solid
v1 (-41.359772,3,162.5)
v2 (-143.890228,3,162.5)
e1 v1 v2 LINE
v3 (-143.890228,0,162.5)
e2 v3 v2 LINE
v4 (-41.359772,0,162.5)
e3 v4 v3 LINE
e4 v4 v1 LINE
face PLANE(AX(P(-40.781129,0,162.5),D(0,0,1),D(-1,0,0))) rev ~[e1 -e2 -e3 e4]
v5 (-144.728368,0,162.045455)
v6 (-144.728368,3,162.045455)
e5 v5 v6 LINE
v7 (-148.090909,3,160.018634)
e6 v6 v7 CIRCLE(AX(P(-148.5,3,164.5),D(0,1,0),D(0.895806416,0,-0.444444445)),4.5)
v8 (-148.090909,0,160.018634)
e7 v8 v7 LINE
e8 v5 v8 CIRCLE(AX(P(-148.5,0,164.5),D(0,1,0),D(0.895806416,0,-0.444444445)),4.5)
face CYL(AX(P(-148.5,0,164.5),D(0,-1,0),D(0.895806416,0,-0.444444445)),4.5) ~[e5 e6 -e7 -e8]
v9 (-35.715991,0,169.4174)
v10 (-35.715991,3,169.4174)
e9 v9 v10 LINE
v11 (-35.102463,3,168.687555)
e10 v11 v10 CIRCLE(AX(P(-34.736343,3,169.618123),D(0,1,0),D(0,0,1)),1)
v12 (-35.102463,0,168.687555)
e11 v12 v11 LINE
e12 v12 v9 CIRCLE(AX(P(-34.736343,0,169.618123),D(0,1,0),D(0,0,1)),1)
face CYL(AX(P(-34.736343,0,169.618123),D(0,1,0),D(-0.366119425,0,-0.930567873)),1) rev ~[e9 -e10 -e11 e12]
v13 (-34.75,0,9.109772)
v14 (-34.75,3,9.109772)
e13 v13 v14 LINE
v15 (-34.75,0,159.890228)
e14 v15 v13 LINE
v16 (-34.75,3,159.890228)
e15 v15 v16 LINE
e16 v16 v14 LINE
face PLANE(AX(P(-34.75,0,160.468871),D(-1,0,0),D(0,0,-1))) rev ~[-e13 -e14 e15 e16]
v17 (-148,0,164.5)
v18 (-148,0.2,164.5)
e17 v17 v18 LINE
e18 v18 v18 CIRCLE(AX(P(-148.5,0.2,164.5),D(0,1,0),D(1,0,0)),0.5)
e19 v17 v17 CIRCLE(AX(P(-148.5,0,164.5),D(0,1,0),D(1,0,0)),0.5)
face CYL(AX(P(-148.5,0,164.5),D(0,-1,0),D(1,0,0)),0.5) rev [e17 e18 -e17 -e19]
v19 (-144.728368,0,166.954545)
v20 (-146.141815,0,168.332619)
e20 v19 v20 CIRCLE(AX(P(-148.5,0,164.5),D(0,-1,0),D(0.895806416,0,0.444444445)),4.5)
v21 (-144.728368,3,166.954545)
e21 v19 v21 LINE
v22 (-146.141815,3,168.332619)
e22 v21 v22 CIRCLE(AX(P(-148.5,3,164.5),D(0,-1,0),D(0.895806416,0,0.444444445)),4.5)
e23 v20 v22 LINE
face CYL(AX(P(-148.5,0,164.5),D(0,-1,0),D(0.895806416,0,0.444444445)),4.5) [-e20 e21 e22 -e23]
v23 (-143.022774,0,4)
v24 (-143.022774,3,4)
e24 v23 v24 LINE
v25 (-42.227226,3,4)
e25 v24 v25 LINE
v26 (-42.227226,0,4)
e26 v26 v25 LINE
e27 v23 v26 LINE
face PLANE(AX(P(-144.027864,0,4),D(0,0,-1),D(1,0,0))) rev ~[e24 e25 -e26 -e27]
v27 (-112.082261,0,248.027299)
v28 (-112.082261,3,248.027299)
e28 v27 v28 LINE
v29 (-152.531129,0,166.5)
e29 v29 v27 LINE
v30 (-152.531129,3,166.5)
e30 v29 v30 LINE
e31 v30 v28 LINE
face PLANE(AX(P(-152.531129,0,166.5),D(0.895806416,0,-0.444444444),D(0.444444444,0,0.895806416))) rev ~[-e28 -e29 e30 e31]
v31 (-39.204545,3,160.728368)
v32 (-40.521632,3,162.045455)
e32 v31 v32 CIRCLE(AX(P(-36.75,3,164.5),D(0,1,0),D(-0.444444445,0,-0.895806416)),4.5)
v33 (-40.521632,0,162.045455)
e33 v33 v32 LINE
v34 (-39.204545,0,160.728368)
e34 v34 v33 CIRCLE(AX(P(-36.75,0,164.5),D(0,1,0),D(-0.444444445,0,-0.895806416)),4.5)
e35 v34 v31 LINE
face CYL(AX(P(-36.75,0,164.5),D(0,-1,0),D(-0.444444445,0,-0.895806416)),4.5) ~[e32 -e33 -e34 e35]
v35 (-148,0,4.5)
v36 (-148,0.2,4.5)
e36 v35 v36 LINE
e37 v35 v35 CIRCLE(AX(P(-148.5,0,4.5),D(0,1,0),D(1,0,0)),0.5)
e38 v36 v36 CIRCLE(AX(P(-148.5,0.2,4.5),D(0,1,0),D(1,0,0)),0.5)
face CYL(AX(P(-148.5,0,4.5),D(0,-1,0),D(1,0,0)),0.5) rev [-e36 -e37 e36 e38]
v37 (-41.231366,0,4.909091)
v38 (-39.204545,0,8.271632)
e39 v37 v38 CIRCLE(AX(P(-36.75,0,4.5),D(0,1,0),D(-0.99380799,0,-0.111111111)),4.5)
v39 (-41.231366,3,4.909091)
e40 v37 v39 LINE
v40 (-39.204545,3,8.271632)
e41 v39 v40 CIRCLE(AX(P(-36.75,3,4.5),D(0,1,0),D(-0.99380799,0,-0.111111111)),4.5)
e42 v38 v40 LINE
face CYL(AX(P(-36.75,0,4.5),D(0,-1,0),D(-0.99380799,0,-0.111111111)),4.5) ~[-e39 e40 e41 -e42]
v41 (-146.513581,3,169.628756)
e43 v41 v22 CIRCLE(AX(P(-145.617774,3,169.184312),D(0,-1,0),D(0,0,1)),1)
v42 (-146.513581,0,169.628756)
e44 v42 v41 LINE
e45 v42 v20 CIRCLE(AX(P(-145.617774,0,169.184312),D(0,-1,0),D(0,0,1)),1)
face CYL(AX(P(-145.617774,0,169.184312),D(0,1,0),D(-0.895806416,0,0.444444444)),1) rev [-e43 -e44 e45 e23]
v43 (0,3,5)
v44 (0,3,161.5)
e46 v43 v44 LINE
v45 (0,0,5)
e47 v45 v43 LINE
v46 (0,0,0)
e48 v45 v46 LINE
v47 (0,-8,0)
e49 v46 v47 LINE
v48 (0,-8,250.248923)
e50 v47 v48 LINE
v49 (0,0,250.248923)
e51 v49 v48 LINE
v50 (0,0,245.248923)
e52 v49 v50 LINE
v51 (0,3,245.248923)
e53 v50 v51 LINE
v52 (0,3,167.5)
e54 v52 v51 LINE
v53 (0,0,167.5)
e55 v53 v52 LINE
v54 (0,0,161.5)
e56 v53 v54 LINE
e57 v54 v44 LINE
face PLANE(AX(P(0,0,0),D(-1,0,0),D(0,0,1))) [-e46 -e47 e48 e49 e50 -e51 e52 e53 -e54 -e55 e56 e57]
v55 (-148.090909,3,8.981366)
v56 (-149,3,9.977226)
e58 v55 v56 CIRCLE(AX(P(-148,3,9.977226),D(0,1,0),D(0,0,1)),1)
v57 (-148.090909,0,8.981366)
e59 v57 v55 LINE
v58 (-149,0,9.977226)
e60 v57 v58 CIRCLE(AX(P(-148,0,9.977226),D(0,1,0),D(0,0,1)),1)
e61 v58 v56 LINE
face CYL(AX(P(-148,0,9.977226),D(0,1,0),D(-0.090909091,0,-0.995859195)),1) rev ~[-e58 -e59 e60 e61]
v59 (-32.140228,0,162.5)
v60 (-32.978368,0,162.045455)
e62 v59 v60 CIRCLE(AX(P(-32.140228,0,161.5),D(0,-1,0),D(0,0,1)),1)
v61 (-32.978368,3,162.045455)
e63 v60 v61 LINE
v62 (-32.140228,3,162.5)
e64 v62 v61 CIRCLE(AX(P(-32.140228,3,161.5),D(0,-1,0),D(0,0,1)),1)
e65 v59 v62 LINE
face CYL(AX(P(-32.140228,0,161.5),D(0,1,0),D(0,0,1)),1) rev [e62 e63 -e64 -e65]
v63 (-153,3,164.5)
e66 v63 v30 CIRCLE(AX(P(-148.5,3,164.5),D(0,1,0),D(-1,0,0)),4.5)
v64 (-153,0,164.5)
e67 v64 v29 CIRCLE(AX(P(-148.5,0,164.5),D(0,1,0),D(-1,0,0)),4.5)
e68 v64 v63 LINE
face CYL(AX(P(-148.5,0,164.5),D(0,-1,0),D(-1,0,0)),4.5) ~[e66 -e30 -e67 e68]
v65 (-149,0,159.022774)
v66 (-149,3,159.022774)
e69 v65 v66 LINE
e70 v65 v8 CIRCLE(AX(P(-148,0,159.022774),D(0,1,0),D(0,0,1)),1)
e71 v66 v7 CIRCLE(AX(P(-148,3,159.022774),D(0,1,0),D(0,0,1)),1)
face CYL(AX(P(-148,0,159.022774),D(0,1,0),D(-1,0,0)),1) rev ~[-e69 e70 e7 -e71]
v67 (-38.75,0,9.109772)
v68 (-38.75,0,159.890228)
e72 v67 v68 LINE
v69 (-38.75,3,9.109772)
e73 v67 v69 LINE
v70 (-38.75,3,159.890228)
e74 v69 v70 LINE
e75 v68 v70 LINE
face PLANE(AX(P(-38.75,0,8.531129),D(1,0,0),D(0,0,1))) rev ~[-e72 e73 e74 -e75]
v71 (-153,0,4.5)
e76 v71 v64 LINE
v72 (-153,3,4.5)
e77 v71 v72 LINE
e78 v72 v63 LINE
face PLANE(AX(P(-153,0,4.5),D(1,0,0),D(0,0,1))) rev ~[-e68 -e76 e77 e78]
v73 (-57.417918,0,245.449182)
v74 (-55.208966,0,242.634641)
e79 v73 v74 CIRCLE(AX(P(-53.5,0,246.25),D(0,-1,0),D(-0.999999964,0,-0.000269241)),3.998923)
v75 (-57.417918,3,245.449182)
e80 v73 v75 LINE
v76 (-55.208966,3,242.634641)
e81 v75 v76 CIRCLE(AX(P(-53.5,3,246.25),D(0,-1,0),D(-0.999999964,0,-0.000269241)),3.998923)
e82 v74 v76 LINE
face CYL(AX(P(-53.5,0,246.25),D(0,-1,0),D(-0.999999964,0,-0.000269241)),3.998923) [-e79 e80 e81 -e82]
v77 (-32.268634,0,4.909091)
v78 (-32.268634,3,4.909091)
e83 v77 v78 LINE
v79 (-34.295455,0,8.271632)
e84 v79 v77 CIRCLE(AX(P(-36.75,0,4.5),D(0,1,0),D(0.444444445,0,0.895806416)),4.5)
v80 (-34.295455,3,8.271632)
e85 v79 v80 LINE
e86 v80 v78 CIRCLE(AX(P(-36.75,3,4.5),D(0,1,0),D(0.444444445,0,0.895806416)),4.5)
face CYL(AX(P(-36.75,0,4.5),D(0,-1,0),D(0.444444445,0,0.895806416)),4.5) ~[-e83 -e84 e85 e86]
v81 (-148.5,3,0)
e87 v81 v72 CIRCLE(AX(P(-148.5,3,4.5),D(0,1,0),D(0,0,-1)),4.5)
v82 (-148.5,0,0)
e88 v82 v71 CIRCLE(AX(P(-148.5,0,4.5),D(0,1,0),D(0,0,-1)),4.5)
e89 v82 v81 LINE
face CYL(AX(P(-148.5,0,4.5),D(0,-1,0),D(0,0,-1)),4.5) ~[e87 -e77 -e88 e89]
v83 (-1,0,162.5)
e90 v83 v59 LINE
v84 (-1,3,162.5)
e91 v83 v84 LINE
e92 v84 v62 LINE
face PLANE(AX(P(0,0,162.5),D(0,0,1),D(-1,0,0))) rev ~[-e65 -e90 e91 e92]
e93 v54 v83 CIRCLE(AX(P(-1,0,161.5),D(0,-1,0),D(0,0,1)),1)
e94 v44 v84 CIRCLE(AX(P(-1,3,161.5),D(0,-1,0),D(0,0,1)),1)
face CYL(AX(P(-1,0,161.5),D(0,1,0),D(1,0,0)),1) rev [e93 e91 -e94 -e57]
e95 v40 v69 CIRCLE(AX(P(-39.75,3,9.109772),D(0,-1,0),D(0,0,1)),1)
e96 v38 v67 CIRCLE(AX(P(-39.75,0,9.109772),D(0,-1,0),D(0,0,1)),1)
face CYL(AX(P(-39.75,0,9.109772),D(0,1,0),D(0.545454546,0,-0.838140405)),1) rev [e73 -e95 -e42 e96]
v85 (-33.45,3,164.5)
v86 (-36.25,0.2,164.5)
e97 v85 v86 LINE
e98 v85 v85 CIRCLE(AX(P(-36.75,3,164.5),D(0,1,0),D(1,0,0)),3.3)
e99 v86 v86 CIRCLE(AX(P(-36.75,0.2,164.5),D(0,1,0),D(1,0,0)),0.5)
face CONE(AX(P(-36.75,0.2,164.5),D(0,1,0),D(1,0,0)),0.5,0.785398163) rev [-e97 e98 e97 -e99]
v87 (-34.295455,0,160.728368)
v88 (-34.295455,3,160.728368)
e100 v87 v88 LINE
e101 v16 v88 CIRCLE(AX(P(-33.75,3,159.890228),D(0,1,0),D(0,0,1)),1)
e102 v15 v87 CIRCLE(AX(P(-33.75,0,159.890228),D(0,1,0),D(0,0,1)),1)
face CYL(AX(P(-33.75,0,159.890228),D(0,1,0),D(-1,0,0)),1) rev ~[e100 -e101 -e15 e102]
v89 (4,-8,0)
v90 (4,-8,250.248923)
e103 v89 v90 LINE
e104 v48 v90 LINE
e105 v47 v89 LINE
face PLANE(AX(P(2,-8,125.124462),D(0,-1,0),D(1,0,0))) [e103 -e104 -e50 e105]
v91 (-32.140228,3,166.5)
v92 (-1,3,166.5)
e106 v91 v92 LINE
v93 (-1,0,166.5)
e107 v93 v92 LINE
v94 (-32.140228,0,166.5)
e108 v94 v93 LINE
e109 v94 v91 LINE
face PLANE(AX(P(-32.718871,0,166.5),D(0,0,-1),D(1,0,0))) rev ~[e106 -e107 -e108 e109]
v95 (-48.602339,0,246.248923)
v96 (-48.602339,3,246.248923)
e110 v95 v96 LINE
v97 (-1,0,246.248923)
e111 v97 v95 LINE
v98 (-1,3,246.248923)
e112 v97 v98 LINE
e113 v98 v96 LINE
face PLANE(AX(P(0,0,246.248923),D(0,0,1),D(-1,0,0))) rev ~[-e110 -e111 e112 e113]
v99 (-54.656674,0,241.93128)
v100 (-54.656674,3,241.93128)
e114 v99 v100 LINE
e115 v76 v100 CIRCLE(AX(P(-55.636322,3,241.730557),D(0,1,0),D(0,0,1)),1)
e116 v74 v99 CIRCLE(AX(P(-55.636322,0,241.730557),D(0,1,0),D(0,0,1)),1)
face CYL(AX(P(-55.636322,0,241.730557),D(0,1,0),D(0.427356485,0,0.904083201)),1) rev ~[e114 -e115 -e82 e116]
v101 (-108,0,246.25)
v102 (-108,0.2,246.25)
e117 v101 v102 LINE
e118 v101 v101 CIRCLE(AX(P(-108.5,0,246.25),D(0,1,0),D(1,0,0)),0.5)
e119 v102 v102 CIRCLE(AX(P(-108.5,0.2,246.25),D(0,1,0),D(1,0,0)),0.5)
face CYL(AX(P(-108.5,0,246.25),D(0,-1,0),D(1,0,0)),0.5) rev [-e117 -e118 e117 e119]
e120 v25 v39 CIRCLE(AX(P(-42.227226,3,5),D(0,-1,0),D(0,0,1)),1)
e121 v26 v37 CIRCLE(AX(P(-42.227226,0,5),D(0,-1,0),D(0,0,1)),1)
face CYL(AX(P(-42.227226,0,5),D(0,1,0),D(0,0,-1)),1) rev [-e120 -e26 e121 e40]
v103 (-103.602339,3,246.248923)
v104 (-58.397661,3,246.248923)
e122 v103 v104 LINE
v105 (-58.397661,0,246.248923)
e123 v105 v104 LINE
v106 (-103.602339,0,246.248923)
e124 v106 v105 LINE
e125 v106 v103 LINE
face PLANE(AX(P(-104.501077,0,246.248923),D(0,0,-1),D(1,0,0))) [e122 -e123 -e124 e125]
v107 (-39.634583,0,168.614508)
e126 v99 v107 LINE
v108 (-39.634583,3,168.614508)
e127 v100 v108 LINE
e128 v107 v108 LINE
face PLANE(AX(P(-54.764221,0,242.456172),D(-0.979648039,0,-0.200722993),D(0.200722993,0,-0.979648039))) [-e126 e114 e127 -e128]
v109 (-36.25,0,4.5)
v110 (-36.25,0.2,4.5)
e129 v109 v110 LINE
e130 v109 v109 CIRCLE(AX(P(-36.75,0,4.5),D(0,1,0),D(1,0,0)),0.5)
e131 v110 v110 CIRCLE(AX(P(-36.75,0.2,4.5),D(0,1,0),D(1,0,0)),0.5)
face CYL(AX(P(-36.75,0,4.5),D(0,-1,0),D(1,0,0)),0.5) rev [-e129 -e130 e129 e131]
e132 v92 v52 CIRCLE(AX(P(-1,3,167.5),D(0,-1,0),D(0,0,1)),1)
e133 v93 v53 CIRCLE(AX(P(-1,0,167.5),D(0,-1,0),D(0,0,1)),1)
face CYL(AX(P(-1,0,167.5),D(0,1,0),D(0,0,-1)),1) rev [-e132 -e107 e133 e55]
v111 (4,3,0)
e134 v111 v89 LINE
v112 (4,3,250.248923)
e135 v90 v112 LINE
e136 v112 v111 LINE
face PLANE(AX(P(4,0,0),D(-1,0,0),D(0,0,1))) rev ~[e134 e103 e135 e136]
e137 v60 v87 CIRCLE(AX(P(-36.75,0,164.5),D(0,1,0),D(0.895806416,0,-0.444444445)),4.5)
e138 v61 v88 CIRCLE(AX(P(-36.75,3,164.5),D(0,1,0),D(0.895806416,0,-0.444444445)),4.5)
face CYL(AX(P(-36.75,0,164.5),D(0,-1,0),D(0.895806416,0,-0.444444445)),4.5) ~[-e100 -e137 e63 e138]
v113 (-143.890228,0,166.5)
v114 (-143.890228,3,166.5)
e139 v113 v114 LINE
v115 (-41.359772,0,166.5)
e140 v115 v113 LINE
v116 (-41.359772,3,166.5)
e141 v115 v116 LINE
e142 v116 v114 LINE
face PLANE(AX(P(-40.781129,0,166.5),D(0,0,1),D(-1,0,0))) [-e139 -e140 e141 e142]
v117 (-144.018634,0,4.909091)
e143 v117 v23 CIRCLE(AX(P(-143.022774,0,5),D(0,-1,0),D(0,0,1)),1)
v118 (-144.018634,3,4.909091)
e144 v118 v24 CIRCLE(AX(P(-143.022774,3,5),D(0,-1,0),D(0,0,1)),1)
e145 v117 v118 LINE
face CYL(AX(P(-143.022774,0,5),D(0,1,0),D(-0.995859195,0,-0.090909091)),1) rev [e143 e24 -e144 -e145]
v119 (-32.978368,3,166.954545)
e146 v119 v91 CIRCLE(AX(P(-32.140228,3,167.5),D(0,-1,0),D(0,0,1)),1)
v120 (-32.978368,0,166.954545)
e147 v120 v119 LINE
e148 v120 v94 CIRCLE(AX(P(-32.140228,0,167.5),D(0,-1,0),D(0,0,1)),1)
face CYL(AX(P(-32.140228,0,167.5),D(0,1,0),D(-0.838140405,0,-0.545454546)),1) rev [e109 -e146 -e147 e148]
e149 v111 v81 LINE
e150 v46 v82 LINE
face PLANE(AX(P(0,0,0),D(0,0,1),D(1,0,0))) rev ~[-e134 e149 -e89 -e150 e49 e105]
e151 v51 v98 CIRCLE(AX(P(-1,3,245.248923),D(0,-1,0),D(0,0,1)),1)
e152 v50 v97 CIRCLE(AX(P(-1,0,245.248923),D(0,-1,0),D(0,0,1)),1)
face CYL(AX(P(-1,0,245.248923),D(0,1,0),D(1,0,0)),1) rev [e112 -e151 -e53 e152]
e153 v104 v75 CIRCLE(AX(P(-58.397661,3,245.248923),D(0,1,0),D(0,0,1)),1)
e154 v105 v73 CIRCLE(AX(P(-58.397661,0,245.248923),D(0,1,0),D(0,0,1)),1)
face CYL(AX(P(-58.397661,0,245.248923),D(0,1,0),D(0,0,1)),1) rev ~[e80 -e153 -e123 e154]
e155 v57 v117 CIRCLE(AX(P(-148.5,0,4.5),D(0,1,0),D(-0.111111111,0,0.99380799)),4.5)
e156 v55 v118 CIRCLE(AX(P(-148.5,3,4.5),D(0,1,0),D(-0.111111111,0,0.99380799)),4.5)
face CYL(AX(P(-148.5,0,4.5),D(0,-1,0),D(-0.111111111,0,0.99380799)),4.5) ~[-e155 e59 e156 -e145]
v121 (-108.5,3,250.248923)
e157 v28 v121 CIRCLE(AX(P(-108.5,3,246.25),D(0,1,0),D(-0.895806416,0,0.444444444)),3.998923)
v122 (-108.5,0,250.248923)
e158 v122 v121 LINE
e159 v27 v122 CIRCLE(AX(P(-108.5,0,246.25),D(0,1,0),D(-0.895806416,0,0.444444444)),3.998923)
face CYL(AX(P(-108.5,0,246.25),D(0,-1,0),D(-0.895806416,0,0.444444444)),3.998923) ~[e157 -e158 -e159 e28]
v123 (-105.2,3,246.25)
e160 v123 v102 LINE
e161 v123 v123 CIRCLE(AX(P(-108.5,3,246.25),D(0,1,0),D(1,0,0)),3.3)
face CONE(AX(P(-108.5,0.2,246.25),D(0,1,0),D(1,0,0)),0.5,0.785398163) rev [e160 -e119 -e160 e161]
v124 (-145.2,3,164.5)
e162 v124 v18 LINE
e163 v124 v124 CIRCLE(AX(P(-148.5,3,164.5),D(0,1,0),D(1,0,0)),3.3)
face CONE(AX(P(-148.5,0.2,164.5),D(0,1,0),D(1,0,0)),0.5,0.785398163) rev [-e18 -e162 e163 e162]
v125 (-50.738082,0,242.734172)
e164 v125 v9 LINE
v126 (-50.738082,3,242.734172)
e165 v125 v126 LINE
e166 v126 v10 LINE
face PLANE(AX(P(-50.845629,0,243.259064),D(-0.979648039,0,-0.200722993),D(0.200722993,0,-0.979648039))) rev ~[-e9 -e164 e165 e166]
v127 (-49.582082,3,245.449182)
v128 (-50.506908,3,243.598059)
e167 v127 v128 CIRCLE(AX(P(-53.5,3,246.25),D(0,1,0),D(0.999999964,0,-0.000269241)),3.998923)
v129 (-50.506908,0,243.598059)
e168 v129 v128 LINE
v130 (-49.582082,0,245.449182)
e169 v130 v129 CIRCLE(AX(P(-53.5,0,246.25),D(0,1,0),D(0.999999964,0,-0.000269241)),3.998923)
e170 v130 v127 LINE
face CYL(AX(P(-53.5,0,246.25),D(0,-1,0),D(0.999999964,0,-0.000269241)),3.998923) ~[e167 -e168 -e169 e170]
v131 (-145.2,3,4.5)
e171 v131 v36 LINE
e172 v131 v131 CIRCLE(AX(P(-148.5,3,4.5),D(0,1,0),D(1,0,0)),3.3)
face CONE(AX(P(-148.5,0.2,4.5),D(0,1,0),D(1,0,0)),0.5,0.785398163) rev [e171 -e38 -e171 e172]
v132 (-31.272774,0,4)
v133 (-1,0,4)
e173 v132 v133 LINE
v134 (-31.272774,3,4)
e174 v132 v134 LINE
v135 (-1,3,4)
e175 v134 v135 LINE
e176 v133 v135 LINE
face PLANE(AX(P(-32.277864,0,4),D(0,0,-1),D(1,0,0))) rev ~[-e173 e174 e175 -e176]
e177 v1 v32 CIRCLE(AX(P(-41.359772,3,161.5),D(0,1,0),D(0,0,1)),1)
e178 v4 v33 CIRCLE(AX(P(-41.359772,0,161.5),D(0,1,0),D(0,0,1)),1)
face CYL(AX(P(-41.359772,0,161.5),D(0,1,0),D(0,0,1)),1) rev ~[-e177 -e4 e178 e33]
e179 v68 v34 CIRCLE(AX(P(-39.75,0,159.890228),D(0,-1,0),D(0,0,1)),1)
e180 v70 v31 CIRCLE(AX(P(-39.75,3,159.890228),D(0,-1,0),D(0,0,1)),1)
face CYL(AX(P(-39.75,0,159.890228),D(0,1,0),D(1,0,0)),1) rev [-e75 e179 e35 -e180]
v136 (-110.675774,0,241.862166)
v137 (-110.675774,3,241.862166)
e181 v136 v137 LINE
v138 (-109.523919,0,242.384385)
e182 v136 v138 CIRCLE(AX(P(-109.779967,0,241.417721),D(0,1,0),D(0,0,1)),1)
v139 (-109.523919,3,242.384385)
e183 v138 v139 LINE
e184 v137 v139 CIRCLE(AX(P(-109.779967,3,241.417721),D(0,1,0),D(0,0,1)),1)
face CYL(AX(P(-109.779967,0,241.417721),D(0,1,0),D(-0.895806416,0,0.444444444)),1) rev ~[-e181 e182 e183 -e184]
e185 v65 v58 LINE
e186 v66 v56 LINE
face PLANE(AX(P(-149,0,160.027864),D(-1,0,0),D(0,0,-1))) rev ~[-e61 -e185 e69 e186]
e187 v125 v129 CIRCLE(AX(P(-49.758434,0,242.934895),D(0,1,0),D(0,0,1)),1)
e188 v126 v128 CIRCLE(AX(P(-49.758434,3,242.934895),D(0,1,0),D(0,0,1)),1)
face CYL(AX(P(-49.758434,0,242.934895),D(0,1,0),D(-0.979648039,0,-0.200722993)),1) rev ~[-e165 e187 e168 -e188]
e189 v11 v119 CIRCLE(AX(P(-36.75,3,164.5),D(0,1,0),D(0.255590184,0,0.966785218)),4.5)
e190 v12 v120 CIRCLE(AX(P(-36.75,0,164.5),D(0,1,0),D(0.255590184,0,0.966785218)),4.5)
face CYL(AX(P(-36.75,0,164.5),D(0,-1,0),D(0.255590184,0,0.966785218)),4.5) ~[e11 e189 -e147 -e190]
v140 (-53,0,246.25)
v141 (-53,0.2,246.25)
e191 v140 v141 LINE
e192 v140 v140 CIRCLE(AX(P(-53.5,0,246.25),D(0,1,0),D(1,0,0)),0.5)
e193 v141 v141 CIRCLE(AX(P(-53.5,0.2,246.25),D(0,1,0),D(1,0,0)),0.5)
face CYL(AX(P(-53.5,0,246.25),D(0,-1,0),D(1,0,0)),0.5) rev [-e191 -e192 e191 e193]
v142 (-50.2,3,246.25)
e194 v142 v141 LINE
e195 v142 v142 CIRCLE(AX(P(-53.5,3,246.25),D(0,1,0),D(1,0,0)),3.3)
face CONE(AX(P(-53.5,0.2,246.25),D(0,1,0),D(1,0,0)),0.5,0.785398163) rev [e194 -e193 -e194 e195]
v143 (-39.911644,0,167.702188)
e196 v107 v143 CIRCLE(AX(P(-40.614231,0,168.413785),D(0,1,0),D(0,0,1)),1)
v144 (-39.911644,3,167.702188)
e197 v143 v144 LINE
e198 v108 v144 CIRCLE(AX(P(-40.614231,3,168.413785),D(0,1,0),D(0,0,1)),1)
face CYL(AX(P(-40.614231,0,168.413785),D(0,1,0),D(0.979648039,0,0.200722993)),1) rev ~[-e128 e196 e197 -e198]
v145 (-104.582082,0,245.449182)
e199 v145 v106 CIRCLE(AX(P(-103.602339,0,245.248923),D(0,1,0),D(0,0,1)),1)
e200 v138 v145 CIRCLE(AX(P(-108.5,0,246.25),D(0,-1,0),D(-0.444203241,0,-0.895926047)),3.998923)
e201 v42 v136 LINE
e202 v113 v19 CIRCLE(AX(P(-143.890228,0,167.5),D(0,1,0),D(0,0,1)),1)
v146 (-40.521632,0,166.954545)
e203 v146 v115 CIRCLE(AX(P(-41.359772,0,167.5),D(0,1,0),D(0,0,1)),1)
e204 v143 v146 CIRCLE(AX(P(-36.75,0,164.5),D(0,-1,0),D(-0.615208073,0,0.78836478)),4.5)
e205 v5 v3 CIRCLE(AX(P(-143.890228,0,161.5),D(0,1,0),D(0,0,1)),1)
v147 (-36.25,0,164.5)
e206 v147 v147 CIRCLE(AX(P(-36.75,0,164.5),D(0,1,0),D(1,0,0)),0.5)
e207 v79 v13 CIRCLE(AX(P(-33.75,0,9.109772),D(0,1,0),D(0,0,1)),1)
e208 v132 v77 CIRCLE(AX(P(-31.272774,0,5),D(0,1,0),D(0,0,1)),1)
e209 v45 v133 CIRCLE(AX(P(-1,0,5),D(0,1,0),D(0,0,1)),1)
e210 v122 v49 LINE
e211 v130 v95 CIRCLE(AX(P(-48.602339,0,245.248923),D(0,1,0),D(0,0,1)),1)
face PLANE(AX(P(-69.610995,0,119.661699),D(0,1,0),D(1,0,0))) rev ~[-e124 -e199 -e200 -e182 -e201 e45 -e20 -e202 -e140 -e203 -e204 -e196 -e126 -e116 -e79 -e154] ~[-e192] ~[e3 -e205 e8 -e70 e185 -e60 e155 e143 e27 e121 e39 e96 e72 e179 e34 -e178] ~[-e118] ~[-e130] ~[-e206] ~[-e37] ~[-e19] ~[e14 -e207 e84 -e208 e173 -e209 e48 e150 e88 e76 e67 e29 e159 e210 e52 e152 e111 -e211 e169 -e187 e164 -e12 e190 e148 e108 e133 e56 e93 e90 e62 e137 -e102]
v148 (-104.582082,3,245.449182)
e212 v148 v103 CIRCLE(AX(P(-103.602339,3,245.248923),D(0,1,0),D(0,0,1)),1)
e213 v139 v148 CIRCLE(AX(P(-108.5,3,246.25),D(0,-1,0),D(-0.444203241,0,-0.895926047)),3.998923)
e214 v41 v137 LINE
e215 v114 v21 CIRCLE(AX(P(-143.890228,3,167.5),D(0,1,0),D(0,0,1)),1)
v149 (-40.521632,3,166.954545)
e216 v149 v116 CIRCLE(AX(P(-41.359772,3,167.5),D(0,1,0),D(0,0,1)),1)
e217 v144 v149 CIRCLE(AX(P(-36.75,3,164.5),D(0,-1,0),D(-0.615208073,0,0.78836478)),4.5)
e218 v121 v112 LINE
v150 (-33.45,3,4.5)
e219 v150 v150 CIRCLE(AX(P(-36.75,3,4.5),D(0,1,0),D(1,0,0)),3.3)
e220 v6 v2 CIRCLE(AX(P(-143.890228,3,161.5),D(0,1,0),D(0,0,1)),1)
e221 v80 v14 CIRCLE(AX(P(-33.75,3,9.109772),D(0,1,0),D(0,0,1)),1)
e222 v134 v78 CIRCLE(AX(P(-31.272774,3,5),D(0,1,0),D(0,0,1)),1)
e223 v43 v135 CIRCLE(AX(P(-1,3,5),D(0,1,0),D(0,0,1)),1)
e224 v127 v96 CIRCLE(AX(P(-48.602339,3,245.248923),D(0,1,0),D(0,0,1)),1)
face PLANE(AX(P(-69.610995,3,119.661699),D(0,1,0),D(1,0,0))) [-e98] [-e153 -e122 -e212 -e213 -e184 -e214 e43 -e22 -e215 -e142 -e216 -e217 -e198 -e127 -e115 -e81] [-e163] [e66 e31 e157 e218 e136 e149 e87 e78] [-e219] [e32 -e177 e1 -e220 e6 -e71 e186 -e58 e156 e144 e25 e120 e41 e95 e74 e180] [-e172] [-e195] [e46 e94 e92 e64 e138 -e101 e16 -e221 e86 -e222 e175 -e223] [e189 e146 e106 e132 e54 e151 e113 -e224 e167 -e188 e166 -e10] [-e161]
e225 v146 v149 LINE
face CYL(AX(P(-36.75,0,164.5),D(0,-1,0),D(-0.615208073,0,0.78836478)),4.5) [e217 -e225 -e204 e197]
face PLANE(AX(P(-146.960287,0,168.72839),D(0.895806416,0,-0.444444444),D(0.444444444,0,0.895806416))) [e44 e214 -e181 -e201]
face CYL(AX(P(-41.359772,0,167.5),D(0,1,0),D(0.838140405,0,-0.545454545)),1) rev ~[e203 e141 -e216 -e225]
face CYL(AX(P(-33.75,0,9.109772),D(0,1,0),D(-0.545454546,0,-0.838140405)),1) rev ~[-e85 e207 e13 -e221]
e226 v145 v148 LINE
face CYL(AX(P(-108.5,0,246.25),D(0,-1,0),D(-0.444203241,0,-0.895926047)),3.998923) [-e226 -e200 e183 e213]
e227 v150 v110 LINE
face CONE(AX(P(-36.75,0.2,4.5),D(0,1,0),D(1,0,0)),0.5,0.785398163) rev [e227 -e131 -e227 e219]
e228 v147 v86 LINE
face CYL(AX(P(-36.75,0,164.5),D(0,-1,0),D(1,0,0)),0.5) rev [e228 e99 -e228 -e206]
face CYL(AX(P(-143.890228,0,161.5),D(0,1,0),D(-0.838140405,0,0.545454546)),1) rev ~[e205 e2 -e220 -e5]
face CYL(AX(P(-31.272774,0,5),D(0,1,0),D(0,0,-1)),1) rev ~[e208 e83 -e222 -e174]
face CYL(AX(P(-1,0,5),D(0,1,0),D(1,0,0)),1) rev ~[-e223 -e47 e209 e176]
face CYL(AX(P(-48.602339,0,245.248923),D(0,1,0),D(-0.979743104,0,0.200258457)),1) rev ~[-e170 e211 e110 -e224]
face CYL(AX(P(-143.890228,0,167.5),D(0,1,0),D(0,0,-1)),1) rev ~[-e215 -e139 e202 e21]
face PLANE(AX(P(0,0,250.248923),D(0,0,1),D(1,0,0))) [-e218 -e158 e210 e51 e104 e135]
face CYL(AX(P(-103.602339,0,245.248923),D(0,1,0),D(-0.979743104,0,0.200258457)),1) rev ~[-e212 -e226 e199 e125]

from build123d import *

# Parameters (mm, degrees)
SKETCH2_R           = 0.5
BOSS_EXTRUDE1_DEPTH = 3
SKETCH3_W           = 4
SKETCH3_H           = 250.248923326
BOSS_EXTRUDE2_DEPTH = 8
CHAMFER1_SIZE       = 2.8
FILLET1_R           = 1


with BuildPart() as part:
    # Sketch2 → Boss-Extrude1 (new body)
    with BuildSketch(Plane(origin=(0, 0, 0), x_dir=(1, 0, 0), z_dir=(0, 1, 0))):
        with BuildLine():
            Line((4, -250.248923326), (4, 0))
            Line((4, 0), (0, 0))
            Line((0, 0), (-148.5, 0))
            ThreePointArc((-148.5, 0), (-151.681980515, -1.318019485), (-153, -4.5))
            Line((-153, -4.5), (-153, -164.5))
            ThreePointArc((-153, -164.5), (-152.88121444, -165.527112473), (-152.531128874, -166.5))
            Line((-152.531128874, -166.5), (-112.082261174, -248.027299256))
            ThreePointArc((-112.082261174, -248.027299256), (-110.60761765, -249.648431345), (-108.5, -250.248923326))
            Line((-108.5, -250.248923326), (4, -250.248923326))
        make_face()
        with Locations((-148.5, -4.5)):
            Circle(SKETCH2_R, mode=Mode.SUBTRACT)
        with Locations((-36.75, -4.5)):
            Circle(SKETCH2_R, mode=Mode.SUBTRACT)
        with Locations((-36.75, -164.5)):
            Circle(SKETCH2_R, mode=Mode.SUBTRACT)
        with Locations((-148.5, -164.5)):
            Circle(SKETCH2_R, mode=Mode.SUBTRACT)
        with Locations((-108.5, -246.25)):
            Circle(SKETCH2_R, mode=Mode.SUBTRACT)
        with Locations((-53.5, -246.25)):
            Circle(SKETCH2_R, mode=Mode.SUBTRACT)
        with BuildLine():
            Line((0, -4), (0, -162.5))
            Line((0, -162.5), (-32.718871126, -162.5))
            ThreePointArc((-32.718871126, -162.5), (-33.568019485, -161.318019485), (-34.75, -160.468871126))
            Line((-34.75, -160.468871126), (-34.75, -8.531128874))
            ThreePointArc((-34.75, -8.531128874), (-32.799693914, -6.655245189), (-32.277864045, -4))
            Line((-32.277864045, -4), (0, -4))
        make_face(mode=Mode.SUBTRACT)
        with BuildLine():
            Line((-144.027864045, -4), (-41.222135955, -4))
            ThreePointArc((-41.222135955, -4), (-40.700306086, -6.655245189), (-38.75, -8.531128874))
            Line((-38.75, -8.531128874), (-38.75, -160.468871126))
            ThreePointArc((-38.75, -160.468871126), (-39.931980515, -161.318019485), (-40.781128874, -162.5))
            Line((-40.781128874, -162.5), (-144.468871126, -162.5))
            ThreePointArc((-144.468871126, -162.5), (-146.344754811, -160.549693914), (-149, -160.027864045))
            Line((-149, -160.027864045), (-149, -8.972135955))
            ThreePointArc((-149, -8.972135955), (-145.318019485, -7.681980515), (-144.027864045, -4))
        make_face(mode=Mode.SUBTRACT)
        with BuildLine():
            Line((-32.718871126, -166.5), (0, -166.5))
            Line((0, -166.5), (0, -246.248923326))
            Line((0, -246.248923326), (-49.501076819, -246.248923326))
            ThreePointArc((-49.501076819, -246.248923326), (-49.852891921, -244.609880972), (-50.845628636, -243.25906362))
            Line((-50.845628636, -243.25906362), (-35.599844174, -168.850533482))
            ThreePointArc((-35.599844174, -168.850533482), (-33.905236442, -167.986734905), (-32.718871126, -166.5))
        make_face(mode=Mode.SUBTRACT)
        with BuildLine():
            Line((-146.960287228, -168.728390306), (-110.2763347, -242.667260434))
            ThreePointArc((-110.2763347, -242.667260434), (-106.39238235, -242.851568655), (-104.501076819, -246.248923326))
            Line((-104.501076819, -246.248923326), (-57.498923181, -246.248923326))
            ThreePointArc((-57.498923181, -246.248923326), (-56.743672678, -243.911202162), (-54.764220792, -242.456171649))
            Line((-54.764220792, -242.456171649), (-39.518436329, -168.047641511))
            ThreePointArc((-39.518436329, -168.047641511), (-40.236734905, -167.344763558), (-40.781128874, -166.5))
            Line((-40.781128874, -166.5), (-144.468871126, -166.5))
            ThreePointArc((-144.468871126, -166.5), (-145.5, -167.854101966), (-146.960287228, -168.728390306))
        make_face(mode=Mode.SUBTRACT)
    extrude(amount=BOSS_EXTRUDE1_DEPTH)

    # Sketch3 → Boss-Extrude2 (add)
    with BuildSketch(Plane.XZ):
        with Locations((2, 125.124461663)):
            Rectangle(SKETCH3_W, SKETCH3_H)
    extrude(amount=BOSS_EXTRUDE2_DEPTH)

    # Chamfer1
    chamfer1_edges = [part.edges().sort_by_distance(p)[0] for p in [
        (-109, 3, 246.25),
        (-54, 3, 246.25),
        (-149, 3, 4.5),
        (-37.25, 3, 4.5),
        (-37.25, 3, 164.5),
        (-149, 3, 164.5),
    ]]
    chamfer(chamfer1_edges, length=CHAMFER1_SIZE)

    # Fillet1
    fillet1_edges = [part.edges().sort_by_distance(p)[0] for p in [
        (-32.718871126, 1.5, 166.5),
        (-35.599844174, 1.5, 168.850533482),
        (-50.845628636, 1.5, 243.25906362),
        (-49.501076819, 1.5, 246.248923326),
        (0, 1.5, 246.248923326),
        (0, 1.5, 166.5),
        (-32.277864045, 1.5, 4),
        (-34.75, 1.5, 8.531128874),
        (-34.75, 1.5, 160.468871126),
        (-32.718871126, 1.5, 162.5),
        (0, 1.5, 162.5),
        (0, 1.5, 4),
        (-144.027864045, 1.5, 4),
        (-149, 1.5, 8.972135955),
        (-149, 1.5, 160.027864045),
        (-144.468871126, 1.5, 162.5),
        (-40.781128874, 1.5, 162.5),
        (-38.75, 1.5, 160.468871126),
        (-38.75, 1.5, 8.531128874),
        (-41.222135955, 1.5, 4),
        (-57.498923181, 1.5, 246.248923326),
        (-54.764220792, 1.5, 242.456171649),
        (-39.518436329, 1.5, 168.047641511),
        (-40.781128874, 1.5, 166.5),
        (-144.468871126, 1.5, 166.5),
        (-146.960287228, 1.5, 168.728390306),
        (-110.2763347, 1.5, 242.667260434),
        (-104.501076819, 1.5, 246.248923326),
    ]]
    fillet(fillet1_edges, radius=FILLET1_R)


solid = part.part
